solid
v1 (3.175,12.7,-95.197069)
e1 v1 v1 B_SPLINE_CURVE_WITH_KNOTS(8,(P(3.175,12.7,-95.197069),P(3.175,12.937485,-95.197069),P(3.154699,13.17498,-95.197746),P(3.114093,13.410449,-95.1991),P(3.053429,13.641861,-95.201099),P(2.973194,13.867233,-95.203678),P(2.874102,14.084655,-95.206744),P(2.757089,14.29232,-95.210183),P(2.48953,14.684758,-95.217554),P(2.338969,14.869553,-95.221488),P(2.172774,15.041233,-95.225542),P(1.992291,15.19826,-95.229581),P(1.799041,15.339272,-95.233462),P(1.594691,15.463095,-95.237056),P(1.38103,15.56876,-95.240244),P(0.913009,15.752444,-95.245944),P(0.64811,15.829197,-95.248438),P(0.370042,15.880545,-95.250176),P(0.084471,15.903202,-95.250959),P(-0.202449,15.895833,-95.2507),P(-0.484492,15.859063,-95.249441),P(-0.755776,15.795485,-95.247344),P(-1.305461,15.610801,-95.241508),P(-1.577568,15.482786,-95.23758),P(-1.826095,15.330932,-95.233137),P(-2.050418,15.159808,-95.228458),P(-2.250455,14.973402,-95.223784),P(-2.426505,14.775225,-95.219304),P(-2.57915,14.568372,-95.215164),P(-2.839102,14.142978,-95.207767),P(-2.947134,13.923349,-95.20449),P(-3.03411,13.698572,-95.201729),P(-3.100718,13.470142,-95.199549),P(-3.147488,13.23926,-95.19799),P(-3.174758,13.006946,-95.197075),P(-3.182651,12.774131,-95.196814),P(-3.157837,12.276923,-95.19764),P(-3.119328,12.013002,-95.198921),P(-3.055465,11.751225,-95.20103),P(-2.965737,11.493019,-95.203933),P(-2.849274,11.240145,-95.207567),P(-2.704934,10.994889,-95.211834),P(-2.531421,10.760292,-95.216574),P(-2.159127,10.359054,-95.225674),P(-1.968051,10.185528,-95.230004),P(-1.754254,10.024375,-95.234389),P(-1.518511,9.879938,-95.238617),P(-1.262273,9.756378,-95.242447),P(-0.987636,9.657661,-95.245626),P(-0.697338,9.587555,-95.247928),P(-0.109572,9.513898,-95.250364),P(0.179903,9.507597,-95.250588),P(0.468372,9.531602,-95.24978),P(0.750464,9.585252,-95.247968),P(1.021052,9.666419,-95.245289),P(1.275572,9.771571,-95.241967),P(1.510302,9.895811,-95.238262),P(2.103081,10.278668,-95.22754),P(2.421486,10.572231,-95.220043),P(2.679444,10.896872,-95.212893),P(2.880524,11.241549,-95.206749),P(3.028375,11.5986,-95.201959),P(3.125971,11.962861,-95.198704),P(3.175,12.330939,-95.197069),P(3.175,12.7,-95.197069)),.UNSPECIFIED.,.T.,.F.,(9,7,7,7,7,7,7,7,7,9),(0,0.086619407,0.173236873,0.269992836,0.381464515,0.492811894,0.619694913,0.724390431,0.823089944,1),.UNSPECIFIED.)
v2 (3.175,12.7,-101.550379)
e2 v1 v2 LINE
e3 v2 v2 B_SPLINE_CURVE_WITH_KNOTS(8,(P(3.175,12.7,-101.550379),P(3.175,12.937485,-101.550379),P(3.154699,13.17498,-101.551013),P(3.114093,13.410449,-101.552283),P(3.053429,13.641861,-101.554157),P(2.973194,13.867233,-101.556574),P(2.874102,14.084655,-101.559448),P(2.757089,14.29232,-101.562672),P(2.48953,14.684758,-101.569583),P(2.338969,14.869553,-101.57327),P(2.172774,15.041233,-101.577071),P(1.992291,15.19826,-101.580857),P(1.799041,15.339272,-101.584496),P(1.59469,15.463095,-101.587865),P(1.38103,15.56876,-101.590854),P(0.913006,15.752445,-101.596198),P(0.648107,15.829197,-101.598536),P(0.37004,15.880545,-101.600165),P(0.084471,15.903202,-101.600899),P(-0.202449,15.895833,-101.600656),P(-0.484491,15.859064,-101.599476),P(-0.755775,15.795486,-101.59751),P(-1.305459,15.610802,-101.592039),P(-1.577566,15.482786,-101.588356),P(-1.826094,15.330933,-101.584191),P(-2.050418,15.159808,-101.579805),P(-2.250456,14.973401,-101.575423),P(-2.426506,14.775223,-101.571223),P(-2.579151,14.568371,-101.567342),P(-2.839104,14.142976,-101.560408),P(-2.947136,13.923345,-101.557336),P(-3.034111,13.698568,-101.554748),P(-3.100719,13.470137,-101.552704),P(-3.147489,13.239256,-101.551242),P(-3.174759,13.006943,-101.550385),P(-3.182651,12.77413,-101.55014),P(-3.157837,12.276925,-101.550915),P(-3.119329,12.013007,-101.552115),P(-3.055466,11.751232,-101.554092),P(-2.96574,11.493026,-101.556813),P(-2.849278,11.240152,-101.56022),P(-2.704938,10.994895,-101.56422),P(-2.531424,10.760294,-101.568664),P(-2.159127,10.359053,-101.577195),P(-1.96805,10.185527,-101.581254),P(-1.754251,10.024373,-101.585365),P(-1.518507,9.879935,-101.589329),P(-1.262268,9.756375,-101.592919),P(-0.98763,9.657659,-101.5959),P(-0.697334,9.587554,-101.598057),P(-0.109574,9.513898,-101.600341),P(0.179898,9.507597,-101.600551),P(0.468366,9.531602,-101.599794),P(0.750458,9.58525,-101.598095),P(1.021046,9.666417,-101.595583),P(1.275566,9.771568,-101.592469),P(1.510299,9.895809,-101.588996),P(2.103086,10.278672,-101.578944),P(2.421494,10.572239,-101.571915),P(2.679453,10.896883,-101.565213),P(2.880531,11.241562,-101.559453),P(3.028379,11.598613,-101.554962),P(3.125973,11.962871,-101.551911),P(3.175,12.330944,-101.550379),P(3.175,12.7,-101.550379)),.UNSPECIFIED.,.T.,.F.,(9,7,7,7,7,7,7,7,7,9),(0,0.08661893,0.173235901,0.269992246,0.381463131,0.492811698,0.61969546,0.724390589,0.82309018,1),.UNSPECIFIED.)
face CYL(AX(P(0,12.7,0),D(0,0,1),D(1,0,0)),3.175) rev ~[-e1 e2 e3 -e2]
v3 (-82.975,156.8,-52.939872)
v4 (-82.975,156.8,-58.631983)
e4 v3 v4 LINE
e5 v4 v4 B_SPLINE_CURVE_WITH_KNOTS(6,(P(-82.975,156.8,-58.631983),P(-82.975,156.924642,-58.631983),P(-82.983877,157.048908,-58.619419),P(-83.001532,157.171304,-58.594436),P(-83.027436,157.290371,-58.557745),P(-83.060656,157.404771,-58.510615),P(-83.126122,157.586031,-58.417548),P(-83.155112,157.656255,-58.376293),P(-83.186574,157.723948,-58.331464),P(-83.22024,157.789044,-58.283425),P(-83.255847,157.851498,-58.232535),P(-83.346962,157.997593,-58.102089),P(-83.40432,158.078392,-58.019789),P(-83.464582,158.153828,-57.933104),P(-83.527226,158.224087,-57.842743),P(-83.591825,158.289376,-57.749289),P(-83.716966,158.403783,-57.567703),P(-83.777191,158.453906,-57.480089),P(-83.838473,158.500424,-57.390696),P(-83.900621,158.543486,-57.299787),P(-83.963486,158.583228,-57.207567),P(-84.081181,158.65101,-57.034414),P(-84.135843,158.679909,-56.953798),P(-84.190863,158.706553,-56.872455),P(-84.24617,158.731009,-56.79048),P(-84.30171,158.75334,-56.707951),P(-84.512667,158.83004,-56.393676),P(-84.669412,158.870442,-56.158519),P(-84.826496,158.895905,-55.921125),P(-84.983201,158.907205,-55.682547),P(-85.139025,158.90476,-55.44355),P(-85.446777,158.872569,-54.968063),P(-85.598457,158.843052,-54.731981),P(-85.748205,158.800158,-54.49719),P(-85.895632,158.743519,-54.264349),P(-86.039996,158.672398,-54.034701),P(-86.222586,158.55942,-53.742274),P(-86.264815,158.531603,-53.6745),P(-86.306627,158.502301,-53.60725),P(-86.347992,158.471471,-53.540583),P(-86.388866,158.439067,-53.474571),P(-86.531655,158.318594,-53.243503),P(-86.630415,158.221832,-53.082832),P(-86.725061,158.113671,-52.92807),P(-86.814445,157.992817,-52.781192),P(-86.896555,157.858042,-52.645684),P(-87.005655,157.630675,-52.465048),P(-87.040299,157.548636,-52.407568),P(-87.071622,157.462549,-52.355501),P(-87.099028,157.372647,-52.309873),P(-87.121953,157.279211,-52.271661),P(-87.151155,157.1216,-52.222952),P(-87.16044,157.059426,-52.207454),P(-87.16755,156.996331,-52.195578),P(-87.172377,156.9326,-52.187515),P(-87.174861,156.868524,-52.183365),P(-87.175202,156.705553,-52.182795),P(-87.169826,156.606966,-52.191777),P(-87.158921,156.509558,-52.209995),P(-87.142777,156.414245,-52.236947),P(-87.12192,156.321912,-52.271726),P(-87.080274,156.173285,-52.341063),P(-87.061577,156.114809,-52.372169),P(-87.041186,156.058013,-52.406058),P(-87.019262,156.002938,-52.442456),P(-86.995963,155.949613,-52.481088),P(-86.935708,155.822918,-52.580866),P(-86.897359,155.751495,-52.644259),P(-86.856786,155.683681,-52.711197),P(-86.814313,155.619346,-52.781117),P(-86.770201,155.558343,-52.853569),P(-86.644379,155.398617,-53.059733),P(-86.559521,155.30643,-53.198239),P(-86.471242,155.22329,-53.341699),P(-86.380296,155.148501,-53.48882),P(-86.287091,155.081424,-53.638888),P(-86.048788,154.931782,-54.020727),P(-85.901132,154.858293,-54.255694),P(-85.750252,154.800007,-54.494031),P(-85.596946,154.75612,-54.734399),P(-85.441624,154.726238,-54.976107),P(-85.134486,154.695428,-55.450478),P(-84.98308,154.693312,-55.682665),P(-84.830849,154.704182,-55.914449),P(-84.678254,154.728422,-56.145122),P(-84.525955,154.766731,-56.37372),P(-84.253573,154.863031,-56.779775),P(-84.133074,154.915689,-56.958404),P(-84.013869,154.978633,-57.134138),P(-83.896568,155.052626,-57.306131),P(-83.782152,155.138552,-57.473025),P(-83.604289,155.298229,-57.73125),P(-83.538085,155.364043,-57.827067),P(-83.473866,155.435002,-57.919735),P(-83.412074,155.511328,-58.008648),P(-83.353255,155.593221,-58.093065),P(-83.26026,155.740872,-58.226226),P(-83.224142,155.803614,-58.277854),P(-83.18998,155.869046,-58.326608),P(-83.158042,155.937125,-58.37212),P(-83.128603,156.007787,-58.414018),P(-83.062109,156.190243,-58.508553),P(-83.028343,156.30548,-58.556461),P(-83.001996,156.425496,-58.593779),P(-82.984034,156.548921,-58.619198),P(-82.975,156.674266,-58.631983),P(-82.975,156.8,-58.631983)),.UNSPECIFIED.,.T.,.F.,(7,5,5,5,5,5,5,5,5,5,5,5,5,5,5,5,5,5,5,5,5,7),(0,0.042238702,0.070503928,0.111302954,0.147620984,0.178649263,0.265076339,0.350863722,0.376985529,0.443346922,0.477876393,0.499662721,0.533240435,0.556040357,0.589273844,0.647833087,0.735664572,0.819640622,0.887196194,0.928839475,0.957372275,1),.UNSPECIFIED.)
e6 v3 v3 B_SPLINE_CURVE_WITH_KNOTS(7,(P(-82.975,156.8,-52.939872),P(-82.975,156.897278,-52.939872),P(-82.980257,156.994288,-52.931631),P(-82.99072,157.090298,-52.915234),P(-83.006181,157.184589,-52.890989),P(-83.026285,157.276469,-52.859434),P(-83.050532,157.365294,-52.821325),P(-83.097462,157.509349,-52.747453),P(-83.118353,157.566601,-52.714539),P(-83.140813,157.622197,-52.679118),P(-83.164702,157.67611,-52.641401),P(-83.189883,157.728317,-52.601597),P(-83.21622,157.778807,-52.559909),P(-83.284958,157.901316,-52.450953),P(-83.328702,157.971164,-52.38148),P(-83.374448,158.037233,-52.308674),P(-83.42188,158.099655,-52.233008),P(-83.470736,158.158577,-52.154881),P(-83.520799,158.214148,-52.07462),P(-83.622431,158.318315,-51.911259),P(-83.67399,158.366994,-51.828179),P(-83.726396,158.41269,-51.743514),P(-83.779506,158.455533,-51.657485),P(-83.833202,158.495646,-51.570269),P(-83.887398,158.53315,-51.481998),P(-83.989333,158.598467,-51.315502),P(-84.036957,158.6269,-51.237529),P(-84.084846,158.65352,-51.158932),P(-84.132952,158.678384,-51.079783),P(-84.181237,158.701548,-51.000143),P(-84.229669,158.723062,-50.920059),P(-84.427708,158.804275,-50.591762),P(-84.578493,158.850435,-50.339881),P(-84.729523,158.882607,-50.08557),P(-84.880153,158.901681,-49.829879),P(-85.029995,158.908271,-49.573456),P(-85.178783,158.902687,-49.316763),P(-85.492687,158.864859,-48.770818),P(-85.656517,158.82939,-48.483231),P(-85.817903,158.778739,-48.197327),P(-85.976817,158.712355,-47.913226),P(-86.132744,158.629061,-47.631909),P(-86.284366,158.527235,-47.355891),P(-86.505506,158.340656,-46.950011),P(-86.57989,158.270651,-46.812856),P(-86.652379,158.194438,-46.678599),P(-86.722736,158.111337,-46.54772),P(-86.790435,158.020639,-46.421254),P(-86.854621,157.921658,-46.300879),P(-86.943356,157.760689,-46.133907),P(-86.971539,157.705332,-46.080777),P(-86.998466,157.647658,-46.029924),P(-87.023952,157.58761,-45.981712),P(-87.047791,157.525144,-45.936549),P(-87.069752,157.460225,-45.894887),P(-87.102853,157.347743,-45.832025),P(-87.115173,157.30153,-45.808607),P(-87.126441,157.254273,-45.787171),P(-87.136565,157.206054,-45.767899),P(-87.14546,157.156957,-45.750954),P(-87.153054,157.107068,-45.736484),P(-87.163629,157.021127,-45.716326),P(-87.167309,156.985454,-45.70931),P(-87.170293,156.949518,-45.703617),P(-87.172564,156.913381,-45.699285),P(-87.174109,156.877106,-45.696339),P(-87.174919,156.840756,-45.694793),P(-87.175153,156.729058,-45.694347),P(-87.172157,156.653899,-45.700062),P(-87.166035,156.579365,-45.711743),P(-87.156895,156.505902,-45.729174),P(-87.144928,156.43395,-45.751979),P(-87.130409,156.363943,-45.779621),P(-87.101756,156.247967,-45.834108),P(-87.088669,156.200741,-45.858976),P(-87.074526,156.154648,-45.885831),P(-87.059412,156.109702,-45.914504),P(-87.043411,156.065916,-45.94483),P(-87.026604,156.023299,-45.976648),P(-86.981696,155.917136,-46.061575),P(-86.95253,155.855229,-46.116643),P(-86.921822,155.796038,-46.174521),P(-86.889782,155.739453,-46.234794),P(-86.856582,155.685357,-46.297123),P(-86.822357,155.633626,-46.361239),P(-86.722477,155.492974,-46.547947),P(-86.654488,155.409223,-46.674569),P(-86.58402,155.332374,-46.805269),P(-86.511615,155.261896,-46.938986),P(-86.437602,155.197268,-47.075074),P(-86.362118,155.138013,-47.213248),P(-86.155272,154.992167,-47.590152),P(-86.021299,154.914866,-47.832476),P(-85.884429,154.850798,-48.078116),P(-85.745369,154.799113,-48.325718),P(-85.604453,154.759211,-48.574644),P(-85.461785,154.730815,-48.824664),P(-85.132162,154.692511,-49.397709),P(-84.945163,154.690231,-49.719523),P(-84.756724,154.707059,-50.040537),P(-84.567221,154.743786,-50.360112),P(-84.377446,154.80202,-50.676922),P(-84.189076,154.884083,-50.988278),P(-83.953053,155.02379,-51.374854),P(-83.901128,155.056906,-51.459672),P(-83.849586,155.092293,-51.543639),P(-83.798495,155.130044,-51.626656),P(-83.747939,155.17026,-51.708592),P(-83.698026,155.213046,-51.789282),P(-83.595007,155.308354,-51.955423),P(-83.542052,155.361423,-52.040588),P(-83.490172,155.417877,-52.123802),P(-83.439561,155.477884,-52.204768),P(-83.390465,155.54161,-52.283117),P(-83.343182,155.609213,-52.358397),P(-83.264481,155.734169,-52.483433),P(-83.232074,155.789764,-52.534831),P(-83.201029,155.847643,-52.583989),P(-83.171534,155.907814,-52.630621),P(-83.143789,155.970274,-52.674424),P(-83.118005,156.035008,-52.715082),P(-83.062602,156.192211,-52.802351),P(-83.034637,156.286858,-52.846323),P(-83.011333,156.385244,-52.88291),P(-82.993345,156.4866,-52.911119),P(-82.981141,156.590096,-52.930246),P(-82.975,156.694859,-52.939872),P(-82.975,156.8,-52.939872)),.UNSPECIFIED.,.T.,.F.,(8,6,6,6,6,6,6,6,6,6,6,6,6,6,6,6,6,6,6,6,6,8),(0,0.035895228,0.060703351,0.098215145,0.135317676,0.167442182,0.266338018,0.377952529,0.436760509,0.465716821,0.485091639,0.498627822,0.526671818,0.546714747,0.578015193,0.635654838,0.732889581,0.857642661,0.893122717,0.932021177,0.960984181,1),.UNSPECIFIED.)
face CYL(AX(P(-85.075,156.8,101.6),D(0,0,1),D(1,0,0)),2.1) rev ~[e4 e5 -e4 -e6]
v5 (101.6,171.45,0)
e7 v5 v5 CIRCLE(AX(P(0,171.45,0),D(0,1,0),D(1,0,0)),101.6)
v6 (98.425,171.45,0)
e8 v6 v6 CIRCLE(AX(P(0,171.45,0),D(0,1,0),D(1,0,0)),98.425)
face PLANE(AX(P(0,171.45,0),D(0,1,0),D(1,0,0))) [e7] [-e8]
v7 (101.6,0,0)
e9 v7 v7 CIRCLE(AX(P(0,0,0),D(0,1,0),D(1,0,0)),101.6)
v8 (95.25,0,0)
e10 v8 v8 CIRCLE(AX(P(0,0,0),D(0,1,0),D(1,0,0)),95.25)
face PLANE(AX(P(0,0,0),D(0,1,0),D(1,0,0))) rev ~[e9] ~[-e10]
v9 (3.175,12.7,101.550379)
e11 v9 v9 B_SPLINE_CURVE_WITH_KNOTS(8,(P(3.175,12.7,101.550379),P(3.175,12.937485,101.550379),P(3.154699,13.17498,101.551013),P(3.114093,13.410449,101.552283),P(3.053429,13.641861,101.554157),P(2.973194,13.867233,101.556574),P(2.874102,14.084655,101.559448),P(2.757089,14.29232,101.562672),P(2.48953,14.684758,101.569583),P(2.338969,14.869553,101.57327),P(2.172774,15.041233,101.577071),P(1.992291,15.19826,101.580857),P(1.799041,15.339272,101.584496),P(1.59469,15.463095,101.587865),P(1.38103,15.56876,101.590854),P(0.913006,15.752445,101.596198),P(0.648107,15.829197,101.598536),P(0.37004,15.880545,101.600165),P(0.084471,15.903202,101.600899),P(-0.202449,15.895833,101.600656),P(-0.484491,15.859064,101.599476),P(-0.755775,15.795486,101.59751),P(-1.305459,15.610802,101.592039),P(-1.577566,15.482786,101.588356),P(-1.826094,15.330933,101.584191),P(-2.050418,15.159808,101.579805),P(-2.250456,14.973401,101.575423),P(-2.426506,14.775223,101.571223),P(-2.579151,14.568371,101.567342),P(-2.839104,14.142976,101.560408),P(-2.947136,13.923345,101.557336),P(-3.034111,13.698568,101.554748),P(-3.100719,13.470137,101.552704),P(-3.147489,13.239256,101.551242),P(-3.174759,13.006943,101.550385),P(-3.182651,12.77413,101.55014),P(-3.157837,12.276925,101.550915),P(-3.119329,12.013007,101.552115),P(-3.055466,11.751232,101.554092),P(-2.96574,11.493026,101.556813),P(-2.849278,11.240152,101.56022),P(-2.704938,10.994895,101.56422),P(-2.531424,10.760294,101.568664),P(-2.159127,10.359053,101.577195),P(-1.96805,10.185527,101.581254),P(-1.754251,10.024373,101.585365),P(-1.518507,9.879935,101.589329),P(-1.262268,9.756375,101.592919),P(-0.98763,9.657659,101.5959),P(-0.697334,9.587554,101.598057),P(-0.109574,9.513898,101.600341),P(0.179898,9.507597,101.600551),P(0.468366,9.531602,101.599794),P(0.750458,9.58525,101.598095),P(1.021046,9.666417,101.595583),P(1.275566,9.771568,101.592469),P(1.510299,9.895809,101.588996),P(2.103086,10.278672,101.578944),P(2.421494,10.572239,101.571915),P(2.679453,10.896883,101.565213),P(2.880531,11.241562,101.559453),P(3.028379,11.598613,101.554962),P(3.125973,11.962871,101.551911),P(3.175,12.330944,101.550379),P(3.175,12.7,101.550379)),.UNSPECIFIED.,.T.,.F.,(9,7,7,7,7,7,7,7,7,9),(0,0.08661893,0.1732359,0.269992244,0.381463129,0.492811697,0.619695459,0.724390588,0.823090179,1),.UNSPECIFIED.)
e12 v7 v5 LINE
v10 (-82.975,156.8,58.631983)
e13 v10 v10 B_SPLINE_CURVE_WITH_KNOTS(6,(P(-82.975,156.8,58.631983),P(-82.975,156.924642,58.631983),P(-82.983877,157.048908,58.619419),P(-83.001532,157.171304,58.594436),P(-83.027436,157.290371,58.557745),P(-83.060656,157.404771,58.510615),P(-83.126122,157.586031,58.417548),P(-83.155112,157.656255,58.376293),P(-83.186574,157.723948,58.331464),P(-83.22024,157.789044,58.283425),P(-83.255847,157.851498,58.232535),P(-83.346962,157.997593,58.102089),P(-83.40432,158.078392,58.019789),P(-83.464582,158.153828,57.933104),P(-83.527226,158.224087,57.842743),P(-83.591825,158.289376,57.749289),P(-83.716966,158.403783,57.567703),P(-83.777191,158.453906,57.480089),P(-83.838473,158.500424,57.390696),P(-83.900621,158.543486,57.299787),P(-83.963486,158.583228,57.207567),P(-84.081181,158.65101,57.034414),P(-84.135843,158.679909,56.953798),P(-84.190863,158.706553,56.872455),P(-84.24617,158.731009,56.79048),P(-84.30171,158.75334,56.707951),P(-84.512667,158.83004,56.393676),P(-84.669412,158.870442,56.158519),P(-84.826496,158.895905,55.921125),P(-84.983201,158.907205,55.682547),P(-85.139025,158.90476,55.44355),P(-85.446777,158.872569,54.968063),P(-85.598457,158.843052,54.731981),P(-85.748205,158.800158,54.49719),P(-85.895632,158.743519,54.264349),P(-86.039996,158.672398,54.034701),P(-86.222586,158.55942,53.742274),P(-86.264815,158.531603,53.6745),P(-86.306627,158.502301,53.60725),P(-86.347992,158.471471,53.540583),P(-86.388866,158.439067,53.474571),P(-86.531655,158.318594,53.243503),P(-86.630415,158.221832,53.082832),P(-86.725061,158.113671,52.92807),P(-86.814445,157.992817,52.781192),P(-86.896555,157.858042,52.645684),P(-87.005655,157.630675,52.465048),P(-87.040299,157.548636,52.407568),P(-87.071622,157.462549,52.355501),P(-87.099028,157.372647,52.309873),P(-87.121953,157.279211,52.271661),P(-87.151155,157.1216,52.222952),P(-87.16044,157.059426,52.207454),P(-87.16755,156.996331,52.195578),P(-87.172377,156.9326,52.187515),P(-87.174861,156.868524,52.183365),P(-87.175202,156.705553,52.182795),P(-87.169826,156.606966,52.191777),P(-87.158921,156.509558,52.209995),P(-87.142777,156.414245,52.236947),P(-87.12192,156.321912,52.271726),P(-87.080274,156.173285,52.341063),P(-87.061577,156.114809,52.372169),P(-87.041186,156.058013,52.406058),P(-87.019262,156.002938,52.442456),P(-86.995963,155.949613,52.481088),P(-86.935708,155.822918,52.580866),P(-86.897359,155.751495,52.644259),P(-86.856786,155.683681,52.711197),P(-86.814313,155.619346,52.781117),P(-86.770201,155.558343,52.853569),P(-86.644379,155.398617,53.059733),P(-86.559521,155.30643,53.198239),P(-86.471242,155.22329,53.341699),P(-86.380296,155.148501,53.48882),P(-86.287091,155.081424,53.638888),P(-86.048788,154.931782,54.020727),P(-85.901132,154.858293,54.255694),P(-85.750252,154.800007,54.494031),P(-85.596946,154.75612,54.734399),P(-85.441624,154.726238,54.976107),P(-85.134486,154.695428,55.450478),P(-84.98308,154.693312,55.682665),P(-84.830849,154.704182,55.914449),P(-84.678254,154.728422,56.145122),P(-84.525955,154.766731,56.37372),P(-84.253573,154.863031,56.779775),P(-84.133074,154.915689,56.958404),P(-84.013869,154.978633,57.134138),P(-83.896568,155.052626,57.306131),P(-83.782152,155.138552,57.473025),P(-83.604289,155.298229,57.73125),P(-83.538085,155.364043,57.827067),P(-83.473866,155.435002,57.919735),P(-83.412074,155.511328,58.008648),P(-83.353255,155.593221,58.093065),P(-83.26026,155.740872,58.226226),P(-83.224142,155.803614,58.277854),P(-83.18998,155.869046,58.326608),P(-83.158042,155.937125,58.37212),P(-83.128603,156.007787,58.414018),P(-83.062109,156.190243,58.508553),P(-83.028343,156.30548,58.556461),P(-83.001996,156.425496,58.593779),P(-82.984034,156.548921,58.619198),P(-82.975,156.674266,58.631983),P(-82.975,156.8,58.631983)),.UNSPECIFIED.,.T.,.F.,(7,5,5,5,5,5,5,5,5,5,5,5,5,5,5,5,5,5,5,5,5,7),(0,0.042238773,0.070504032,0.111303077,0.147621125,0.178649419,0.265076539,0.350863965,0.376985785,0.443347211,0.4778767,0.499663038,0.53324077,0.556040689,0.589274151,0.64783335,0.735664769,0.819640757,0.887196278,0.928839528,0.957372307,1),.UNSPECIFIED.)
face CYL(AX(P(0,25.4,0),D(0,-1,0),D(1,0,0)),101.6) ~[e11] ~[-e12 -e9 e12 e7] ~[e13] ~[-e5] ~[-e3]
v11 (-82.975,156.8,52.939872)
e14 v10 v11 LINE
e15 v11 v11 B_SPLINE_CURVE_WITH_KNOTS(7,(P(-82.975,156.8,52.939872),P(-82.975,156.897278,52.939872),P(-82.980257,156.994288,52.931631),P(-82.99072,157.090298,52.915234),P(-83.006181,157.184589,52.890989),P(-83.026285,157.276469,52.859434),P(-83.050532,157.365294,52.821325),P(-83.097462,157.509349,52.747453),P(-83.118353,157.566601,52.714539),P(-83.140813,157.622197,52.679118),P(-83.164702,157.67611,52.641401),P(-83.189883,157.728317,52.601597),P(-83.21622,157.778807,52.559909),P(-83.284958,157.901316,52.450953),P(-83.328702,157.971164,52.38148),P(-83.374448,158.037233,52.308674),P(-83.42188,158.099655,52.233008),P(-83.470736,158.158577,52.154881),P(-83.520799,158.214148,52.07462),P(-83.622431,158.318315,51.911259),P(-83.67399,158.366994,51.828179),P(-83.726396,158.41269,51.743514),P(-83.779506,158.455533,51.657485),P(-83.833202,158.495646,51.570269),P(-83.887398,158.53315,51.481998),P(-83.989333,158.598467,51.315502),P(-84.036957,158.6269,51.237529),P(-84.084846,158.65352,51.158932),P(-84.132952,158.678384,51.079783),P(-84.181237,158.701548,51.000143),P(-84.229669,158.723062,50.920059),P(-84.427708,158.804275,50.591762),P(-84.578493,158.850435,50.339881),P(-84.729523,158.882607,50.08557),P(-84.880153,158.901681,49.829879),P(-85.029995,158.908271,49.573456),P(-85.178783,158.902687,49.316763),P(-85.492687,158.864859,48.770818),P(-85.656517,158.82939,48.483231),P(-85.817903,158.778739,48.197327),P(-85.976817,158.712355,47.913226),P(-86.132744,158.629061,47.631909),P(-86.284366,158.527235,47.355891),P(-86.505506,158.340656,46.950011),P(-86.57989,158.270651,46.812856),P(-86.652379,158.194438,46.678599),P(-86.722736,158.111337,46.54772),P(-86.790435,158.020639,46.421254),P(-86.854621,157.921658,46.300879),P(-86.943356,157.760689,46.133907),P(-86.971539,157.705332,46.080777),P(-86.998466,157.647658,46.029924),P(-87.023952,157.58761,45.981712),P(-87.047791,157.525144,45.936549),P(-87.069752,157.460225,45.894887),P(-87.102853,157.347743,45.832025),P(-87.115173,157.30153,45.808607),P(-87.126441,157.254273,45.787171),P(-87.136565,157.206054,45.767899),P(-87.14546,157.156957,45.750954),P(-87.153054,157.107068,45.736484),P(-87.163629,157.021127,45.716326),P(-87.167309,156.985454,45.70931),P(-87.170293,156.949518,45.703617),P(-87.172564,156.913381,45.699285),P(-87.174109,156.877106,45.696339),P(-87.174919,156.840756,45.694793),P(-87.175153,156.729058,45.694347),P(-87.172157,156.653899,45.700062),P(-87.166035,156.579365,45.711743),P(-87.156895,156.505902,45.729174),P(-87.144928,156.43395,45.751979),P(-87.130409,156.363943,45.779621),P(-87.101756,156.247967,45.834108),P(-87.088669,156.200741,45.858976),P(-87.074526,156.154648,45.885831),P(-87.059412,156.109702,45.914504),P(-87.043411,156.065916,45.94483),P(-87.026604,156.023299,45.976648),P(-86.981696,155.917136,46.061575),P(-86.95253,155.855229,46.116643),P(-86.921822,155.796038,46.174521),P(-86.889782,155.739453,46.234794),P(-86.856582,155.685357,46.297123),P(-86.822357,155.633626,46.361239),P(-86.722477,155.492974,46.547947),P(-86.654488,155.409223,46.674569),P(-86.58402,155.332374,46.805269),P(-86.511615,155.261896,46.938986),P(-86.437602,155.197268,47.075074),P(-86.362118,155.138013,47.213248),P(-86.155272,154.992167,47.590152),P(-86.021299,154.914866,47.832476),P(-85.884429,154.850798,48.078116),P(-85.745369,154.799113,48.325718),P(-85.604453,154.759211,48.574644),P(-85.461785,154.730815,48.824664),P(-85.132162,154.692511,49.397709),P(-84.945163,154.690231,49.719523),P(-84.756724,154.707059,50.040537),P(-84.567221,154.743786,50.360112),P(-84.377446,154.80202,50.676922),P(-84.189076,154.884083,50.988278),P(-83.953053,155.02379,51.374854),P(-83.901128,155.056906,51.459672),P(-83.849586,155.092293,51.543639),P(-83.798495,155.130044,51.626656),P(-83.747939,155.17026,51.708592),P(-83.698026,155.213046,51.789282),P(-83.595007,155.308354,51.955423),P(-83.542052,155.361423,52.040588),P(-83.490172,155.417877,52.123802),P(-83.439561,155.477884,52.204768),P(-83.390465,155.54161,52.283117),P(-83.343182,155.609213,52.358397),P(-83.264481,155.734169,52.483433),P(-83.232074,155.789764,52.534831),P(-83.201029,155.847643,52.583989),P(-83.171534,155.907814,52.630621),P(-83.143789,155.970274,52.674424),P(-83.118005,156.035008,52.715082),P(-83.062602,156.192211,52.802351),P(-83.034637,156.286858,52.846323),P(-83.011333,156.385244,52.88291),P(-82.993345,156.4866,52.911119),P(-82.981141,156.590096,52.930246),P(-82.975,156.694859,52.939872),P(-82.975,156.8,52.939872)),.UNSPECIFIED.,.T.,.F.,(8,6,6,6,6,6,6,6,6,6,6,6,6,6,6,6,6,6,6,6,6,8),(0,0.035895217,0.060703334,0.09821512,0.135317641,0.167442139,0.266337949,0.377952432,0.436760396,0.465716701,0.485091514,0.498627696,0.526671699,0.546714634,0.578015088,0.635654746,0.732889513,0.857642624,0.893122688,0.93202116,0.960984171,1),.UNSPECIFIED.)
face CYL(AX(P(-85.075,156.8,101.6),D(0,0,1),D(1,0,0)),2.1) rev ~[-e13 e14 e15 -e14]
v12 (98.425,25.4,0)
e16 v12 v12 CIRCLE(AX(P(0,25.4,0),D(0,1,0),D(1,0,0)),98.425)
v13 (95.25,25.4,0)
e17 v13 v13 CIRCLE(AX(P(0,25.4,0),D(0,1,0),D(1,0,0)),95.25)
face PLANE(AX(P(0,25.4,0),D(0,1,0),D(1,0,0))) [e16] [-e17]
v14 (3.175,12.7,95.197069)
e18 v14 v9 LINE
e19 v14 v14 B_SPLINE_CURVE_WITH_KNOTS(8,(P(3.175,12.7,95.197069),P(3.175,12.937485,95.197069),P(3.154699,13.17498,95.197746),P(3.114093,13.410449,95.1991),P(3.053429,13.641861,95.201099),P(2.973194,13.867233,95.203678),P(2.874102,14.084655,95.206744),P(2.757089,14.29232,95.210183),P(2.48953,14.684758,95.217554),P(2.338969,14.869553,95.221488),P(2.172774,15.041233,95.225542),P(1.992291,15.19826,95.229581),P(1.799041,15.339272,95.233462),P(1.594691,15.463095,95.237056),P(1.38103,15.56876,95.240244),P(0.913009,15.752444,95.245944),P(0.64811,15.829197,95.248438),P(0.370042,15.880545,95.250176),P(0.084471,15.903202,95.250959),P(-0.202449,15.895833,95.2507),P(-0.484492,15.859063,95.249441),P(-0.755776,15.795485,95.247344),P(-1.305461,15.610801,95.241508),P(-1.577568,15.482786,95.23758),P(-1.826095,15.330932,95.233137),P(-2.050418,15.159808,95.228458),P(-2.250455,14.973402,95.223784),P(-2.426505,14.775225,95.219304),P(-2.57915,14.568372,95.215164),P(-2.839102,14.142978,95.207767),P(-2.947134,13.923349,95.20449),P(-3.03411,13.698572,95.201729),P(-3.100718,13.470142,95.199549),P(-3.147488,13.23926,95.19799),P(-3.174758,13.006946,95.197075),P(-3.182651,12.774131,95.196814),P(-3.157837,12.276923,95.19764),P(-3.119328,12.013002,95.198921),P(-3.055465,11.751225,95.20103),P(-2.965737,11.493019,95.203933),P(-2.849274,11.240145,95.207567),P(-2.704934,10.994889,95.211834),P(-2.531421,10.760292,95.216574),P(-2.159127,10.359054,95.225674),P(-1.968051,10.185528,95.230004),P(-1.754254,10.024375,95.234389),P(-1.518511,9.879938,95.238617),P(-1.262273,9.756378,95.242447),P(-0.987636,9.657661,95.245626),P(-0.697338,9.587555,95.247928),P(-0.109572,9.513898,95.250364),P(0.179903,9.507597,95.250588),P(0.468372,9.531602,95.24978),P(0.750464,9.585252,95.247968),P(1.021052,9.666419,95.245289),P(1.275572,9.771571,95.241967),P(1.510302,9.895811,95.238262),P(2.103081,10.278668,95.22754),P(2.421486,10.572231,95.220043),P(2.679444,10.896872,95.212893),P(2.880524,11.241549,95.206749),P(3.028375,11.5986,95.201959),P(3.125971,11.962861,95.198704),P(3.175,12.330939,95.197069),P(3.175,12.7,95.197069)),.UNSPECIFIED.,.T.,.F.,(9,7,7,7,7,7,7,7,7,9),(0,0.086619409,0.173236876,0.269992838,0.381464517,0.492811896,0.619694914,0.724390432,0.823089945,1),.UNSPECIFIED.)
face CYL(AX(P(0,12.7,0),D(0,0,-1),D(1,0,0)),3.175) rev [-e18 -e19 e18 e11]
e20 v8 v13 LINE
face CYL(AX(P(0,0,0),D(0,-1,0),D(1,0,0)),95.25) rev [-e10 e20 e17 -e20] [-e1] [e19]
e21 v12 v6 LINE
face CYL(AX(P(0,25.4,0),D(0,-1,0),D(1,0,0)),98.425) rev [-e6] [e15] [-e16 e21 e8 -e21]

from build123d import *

# Parameters (mm, degrees)
SKETCH1_R               = 101.6
SKETCH1_R_2             = 95.25
BOSS_EXTRUDE1_DEPTH     = 25.4
SKETCH2_R               = 3.175
CUT_EXTRUDE1_DEPTH      = 102.6
CUT_EXTRUDE1_DEPTH_BACK = 102.6
SKETCH5_R               = 101.6
SKETCH5_R_2             = 98.425
BOSS_EXTRUDE2_DEPTH     = 146.05
SKETCH9_R               = 2.1
CUT_EXTRUDE5_DEPTH      = 204.2000001


with BuildPart() as part:
    # Sketch1 → Boss-Extrude1 (new body)
    with BuildSketch(Plane(origin=(0, 0, 0), x_dir=(1, 0, 0), z_dir=(0, 1, 0))):
        Circle(SKETCH1_R)
        Circle(SKETCH1_R_2, mode=Mode.SUBTRACT)
    extrude(amount=BOSS_EXTRUDE1_DEPTH)

    # Sketch2 → Cut-Extrude1 (cut, two sides)
    with BuildSketch(Plane.XY) as cut_extrude1_sk:
        with Locations((0, 12.7)):
            Circle(SKETCH2_R)
    extrude(amount=CUT_EXTRUDE1_DEPTH, mode=Mode.SUBTRACT)
    extrude(cut_extrude1_sk.sketch, amount=-CUT_EXTRUDE1_DEPTH_BACK, mode=Mode.SUBTRACT)

    # Sketch5 → Boss-Extrude2 (add)
    with BuildSketch(Plane(origin=(0, 25.4, 0), x_dir=(1, 0, 0), z_dir=(0, 1, 0))):
        Circle(SKETCH5_R)
        Circle(SKETCH5_R_2, mode=Mode.SUBTRACT)
    extrude(amount=BOSS_EXTRUDE2_DEPTH)

    # Sketch9 → Cut-Extrude5 (cut, through all)
    with BuildSketch(Plane.XY.offset(101.6)):
        with Locations((-85.075, 156.8)):
            Circle(SKETCH9_R)
    extrude(amount=-CUT_EXTRUDE5_DEPTH, mode=Mode.SUBTRACT)


solid = part.part
